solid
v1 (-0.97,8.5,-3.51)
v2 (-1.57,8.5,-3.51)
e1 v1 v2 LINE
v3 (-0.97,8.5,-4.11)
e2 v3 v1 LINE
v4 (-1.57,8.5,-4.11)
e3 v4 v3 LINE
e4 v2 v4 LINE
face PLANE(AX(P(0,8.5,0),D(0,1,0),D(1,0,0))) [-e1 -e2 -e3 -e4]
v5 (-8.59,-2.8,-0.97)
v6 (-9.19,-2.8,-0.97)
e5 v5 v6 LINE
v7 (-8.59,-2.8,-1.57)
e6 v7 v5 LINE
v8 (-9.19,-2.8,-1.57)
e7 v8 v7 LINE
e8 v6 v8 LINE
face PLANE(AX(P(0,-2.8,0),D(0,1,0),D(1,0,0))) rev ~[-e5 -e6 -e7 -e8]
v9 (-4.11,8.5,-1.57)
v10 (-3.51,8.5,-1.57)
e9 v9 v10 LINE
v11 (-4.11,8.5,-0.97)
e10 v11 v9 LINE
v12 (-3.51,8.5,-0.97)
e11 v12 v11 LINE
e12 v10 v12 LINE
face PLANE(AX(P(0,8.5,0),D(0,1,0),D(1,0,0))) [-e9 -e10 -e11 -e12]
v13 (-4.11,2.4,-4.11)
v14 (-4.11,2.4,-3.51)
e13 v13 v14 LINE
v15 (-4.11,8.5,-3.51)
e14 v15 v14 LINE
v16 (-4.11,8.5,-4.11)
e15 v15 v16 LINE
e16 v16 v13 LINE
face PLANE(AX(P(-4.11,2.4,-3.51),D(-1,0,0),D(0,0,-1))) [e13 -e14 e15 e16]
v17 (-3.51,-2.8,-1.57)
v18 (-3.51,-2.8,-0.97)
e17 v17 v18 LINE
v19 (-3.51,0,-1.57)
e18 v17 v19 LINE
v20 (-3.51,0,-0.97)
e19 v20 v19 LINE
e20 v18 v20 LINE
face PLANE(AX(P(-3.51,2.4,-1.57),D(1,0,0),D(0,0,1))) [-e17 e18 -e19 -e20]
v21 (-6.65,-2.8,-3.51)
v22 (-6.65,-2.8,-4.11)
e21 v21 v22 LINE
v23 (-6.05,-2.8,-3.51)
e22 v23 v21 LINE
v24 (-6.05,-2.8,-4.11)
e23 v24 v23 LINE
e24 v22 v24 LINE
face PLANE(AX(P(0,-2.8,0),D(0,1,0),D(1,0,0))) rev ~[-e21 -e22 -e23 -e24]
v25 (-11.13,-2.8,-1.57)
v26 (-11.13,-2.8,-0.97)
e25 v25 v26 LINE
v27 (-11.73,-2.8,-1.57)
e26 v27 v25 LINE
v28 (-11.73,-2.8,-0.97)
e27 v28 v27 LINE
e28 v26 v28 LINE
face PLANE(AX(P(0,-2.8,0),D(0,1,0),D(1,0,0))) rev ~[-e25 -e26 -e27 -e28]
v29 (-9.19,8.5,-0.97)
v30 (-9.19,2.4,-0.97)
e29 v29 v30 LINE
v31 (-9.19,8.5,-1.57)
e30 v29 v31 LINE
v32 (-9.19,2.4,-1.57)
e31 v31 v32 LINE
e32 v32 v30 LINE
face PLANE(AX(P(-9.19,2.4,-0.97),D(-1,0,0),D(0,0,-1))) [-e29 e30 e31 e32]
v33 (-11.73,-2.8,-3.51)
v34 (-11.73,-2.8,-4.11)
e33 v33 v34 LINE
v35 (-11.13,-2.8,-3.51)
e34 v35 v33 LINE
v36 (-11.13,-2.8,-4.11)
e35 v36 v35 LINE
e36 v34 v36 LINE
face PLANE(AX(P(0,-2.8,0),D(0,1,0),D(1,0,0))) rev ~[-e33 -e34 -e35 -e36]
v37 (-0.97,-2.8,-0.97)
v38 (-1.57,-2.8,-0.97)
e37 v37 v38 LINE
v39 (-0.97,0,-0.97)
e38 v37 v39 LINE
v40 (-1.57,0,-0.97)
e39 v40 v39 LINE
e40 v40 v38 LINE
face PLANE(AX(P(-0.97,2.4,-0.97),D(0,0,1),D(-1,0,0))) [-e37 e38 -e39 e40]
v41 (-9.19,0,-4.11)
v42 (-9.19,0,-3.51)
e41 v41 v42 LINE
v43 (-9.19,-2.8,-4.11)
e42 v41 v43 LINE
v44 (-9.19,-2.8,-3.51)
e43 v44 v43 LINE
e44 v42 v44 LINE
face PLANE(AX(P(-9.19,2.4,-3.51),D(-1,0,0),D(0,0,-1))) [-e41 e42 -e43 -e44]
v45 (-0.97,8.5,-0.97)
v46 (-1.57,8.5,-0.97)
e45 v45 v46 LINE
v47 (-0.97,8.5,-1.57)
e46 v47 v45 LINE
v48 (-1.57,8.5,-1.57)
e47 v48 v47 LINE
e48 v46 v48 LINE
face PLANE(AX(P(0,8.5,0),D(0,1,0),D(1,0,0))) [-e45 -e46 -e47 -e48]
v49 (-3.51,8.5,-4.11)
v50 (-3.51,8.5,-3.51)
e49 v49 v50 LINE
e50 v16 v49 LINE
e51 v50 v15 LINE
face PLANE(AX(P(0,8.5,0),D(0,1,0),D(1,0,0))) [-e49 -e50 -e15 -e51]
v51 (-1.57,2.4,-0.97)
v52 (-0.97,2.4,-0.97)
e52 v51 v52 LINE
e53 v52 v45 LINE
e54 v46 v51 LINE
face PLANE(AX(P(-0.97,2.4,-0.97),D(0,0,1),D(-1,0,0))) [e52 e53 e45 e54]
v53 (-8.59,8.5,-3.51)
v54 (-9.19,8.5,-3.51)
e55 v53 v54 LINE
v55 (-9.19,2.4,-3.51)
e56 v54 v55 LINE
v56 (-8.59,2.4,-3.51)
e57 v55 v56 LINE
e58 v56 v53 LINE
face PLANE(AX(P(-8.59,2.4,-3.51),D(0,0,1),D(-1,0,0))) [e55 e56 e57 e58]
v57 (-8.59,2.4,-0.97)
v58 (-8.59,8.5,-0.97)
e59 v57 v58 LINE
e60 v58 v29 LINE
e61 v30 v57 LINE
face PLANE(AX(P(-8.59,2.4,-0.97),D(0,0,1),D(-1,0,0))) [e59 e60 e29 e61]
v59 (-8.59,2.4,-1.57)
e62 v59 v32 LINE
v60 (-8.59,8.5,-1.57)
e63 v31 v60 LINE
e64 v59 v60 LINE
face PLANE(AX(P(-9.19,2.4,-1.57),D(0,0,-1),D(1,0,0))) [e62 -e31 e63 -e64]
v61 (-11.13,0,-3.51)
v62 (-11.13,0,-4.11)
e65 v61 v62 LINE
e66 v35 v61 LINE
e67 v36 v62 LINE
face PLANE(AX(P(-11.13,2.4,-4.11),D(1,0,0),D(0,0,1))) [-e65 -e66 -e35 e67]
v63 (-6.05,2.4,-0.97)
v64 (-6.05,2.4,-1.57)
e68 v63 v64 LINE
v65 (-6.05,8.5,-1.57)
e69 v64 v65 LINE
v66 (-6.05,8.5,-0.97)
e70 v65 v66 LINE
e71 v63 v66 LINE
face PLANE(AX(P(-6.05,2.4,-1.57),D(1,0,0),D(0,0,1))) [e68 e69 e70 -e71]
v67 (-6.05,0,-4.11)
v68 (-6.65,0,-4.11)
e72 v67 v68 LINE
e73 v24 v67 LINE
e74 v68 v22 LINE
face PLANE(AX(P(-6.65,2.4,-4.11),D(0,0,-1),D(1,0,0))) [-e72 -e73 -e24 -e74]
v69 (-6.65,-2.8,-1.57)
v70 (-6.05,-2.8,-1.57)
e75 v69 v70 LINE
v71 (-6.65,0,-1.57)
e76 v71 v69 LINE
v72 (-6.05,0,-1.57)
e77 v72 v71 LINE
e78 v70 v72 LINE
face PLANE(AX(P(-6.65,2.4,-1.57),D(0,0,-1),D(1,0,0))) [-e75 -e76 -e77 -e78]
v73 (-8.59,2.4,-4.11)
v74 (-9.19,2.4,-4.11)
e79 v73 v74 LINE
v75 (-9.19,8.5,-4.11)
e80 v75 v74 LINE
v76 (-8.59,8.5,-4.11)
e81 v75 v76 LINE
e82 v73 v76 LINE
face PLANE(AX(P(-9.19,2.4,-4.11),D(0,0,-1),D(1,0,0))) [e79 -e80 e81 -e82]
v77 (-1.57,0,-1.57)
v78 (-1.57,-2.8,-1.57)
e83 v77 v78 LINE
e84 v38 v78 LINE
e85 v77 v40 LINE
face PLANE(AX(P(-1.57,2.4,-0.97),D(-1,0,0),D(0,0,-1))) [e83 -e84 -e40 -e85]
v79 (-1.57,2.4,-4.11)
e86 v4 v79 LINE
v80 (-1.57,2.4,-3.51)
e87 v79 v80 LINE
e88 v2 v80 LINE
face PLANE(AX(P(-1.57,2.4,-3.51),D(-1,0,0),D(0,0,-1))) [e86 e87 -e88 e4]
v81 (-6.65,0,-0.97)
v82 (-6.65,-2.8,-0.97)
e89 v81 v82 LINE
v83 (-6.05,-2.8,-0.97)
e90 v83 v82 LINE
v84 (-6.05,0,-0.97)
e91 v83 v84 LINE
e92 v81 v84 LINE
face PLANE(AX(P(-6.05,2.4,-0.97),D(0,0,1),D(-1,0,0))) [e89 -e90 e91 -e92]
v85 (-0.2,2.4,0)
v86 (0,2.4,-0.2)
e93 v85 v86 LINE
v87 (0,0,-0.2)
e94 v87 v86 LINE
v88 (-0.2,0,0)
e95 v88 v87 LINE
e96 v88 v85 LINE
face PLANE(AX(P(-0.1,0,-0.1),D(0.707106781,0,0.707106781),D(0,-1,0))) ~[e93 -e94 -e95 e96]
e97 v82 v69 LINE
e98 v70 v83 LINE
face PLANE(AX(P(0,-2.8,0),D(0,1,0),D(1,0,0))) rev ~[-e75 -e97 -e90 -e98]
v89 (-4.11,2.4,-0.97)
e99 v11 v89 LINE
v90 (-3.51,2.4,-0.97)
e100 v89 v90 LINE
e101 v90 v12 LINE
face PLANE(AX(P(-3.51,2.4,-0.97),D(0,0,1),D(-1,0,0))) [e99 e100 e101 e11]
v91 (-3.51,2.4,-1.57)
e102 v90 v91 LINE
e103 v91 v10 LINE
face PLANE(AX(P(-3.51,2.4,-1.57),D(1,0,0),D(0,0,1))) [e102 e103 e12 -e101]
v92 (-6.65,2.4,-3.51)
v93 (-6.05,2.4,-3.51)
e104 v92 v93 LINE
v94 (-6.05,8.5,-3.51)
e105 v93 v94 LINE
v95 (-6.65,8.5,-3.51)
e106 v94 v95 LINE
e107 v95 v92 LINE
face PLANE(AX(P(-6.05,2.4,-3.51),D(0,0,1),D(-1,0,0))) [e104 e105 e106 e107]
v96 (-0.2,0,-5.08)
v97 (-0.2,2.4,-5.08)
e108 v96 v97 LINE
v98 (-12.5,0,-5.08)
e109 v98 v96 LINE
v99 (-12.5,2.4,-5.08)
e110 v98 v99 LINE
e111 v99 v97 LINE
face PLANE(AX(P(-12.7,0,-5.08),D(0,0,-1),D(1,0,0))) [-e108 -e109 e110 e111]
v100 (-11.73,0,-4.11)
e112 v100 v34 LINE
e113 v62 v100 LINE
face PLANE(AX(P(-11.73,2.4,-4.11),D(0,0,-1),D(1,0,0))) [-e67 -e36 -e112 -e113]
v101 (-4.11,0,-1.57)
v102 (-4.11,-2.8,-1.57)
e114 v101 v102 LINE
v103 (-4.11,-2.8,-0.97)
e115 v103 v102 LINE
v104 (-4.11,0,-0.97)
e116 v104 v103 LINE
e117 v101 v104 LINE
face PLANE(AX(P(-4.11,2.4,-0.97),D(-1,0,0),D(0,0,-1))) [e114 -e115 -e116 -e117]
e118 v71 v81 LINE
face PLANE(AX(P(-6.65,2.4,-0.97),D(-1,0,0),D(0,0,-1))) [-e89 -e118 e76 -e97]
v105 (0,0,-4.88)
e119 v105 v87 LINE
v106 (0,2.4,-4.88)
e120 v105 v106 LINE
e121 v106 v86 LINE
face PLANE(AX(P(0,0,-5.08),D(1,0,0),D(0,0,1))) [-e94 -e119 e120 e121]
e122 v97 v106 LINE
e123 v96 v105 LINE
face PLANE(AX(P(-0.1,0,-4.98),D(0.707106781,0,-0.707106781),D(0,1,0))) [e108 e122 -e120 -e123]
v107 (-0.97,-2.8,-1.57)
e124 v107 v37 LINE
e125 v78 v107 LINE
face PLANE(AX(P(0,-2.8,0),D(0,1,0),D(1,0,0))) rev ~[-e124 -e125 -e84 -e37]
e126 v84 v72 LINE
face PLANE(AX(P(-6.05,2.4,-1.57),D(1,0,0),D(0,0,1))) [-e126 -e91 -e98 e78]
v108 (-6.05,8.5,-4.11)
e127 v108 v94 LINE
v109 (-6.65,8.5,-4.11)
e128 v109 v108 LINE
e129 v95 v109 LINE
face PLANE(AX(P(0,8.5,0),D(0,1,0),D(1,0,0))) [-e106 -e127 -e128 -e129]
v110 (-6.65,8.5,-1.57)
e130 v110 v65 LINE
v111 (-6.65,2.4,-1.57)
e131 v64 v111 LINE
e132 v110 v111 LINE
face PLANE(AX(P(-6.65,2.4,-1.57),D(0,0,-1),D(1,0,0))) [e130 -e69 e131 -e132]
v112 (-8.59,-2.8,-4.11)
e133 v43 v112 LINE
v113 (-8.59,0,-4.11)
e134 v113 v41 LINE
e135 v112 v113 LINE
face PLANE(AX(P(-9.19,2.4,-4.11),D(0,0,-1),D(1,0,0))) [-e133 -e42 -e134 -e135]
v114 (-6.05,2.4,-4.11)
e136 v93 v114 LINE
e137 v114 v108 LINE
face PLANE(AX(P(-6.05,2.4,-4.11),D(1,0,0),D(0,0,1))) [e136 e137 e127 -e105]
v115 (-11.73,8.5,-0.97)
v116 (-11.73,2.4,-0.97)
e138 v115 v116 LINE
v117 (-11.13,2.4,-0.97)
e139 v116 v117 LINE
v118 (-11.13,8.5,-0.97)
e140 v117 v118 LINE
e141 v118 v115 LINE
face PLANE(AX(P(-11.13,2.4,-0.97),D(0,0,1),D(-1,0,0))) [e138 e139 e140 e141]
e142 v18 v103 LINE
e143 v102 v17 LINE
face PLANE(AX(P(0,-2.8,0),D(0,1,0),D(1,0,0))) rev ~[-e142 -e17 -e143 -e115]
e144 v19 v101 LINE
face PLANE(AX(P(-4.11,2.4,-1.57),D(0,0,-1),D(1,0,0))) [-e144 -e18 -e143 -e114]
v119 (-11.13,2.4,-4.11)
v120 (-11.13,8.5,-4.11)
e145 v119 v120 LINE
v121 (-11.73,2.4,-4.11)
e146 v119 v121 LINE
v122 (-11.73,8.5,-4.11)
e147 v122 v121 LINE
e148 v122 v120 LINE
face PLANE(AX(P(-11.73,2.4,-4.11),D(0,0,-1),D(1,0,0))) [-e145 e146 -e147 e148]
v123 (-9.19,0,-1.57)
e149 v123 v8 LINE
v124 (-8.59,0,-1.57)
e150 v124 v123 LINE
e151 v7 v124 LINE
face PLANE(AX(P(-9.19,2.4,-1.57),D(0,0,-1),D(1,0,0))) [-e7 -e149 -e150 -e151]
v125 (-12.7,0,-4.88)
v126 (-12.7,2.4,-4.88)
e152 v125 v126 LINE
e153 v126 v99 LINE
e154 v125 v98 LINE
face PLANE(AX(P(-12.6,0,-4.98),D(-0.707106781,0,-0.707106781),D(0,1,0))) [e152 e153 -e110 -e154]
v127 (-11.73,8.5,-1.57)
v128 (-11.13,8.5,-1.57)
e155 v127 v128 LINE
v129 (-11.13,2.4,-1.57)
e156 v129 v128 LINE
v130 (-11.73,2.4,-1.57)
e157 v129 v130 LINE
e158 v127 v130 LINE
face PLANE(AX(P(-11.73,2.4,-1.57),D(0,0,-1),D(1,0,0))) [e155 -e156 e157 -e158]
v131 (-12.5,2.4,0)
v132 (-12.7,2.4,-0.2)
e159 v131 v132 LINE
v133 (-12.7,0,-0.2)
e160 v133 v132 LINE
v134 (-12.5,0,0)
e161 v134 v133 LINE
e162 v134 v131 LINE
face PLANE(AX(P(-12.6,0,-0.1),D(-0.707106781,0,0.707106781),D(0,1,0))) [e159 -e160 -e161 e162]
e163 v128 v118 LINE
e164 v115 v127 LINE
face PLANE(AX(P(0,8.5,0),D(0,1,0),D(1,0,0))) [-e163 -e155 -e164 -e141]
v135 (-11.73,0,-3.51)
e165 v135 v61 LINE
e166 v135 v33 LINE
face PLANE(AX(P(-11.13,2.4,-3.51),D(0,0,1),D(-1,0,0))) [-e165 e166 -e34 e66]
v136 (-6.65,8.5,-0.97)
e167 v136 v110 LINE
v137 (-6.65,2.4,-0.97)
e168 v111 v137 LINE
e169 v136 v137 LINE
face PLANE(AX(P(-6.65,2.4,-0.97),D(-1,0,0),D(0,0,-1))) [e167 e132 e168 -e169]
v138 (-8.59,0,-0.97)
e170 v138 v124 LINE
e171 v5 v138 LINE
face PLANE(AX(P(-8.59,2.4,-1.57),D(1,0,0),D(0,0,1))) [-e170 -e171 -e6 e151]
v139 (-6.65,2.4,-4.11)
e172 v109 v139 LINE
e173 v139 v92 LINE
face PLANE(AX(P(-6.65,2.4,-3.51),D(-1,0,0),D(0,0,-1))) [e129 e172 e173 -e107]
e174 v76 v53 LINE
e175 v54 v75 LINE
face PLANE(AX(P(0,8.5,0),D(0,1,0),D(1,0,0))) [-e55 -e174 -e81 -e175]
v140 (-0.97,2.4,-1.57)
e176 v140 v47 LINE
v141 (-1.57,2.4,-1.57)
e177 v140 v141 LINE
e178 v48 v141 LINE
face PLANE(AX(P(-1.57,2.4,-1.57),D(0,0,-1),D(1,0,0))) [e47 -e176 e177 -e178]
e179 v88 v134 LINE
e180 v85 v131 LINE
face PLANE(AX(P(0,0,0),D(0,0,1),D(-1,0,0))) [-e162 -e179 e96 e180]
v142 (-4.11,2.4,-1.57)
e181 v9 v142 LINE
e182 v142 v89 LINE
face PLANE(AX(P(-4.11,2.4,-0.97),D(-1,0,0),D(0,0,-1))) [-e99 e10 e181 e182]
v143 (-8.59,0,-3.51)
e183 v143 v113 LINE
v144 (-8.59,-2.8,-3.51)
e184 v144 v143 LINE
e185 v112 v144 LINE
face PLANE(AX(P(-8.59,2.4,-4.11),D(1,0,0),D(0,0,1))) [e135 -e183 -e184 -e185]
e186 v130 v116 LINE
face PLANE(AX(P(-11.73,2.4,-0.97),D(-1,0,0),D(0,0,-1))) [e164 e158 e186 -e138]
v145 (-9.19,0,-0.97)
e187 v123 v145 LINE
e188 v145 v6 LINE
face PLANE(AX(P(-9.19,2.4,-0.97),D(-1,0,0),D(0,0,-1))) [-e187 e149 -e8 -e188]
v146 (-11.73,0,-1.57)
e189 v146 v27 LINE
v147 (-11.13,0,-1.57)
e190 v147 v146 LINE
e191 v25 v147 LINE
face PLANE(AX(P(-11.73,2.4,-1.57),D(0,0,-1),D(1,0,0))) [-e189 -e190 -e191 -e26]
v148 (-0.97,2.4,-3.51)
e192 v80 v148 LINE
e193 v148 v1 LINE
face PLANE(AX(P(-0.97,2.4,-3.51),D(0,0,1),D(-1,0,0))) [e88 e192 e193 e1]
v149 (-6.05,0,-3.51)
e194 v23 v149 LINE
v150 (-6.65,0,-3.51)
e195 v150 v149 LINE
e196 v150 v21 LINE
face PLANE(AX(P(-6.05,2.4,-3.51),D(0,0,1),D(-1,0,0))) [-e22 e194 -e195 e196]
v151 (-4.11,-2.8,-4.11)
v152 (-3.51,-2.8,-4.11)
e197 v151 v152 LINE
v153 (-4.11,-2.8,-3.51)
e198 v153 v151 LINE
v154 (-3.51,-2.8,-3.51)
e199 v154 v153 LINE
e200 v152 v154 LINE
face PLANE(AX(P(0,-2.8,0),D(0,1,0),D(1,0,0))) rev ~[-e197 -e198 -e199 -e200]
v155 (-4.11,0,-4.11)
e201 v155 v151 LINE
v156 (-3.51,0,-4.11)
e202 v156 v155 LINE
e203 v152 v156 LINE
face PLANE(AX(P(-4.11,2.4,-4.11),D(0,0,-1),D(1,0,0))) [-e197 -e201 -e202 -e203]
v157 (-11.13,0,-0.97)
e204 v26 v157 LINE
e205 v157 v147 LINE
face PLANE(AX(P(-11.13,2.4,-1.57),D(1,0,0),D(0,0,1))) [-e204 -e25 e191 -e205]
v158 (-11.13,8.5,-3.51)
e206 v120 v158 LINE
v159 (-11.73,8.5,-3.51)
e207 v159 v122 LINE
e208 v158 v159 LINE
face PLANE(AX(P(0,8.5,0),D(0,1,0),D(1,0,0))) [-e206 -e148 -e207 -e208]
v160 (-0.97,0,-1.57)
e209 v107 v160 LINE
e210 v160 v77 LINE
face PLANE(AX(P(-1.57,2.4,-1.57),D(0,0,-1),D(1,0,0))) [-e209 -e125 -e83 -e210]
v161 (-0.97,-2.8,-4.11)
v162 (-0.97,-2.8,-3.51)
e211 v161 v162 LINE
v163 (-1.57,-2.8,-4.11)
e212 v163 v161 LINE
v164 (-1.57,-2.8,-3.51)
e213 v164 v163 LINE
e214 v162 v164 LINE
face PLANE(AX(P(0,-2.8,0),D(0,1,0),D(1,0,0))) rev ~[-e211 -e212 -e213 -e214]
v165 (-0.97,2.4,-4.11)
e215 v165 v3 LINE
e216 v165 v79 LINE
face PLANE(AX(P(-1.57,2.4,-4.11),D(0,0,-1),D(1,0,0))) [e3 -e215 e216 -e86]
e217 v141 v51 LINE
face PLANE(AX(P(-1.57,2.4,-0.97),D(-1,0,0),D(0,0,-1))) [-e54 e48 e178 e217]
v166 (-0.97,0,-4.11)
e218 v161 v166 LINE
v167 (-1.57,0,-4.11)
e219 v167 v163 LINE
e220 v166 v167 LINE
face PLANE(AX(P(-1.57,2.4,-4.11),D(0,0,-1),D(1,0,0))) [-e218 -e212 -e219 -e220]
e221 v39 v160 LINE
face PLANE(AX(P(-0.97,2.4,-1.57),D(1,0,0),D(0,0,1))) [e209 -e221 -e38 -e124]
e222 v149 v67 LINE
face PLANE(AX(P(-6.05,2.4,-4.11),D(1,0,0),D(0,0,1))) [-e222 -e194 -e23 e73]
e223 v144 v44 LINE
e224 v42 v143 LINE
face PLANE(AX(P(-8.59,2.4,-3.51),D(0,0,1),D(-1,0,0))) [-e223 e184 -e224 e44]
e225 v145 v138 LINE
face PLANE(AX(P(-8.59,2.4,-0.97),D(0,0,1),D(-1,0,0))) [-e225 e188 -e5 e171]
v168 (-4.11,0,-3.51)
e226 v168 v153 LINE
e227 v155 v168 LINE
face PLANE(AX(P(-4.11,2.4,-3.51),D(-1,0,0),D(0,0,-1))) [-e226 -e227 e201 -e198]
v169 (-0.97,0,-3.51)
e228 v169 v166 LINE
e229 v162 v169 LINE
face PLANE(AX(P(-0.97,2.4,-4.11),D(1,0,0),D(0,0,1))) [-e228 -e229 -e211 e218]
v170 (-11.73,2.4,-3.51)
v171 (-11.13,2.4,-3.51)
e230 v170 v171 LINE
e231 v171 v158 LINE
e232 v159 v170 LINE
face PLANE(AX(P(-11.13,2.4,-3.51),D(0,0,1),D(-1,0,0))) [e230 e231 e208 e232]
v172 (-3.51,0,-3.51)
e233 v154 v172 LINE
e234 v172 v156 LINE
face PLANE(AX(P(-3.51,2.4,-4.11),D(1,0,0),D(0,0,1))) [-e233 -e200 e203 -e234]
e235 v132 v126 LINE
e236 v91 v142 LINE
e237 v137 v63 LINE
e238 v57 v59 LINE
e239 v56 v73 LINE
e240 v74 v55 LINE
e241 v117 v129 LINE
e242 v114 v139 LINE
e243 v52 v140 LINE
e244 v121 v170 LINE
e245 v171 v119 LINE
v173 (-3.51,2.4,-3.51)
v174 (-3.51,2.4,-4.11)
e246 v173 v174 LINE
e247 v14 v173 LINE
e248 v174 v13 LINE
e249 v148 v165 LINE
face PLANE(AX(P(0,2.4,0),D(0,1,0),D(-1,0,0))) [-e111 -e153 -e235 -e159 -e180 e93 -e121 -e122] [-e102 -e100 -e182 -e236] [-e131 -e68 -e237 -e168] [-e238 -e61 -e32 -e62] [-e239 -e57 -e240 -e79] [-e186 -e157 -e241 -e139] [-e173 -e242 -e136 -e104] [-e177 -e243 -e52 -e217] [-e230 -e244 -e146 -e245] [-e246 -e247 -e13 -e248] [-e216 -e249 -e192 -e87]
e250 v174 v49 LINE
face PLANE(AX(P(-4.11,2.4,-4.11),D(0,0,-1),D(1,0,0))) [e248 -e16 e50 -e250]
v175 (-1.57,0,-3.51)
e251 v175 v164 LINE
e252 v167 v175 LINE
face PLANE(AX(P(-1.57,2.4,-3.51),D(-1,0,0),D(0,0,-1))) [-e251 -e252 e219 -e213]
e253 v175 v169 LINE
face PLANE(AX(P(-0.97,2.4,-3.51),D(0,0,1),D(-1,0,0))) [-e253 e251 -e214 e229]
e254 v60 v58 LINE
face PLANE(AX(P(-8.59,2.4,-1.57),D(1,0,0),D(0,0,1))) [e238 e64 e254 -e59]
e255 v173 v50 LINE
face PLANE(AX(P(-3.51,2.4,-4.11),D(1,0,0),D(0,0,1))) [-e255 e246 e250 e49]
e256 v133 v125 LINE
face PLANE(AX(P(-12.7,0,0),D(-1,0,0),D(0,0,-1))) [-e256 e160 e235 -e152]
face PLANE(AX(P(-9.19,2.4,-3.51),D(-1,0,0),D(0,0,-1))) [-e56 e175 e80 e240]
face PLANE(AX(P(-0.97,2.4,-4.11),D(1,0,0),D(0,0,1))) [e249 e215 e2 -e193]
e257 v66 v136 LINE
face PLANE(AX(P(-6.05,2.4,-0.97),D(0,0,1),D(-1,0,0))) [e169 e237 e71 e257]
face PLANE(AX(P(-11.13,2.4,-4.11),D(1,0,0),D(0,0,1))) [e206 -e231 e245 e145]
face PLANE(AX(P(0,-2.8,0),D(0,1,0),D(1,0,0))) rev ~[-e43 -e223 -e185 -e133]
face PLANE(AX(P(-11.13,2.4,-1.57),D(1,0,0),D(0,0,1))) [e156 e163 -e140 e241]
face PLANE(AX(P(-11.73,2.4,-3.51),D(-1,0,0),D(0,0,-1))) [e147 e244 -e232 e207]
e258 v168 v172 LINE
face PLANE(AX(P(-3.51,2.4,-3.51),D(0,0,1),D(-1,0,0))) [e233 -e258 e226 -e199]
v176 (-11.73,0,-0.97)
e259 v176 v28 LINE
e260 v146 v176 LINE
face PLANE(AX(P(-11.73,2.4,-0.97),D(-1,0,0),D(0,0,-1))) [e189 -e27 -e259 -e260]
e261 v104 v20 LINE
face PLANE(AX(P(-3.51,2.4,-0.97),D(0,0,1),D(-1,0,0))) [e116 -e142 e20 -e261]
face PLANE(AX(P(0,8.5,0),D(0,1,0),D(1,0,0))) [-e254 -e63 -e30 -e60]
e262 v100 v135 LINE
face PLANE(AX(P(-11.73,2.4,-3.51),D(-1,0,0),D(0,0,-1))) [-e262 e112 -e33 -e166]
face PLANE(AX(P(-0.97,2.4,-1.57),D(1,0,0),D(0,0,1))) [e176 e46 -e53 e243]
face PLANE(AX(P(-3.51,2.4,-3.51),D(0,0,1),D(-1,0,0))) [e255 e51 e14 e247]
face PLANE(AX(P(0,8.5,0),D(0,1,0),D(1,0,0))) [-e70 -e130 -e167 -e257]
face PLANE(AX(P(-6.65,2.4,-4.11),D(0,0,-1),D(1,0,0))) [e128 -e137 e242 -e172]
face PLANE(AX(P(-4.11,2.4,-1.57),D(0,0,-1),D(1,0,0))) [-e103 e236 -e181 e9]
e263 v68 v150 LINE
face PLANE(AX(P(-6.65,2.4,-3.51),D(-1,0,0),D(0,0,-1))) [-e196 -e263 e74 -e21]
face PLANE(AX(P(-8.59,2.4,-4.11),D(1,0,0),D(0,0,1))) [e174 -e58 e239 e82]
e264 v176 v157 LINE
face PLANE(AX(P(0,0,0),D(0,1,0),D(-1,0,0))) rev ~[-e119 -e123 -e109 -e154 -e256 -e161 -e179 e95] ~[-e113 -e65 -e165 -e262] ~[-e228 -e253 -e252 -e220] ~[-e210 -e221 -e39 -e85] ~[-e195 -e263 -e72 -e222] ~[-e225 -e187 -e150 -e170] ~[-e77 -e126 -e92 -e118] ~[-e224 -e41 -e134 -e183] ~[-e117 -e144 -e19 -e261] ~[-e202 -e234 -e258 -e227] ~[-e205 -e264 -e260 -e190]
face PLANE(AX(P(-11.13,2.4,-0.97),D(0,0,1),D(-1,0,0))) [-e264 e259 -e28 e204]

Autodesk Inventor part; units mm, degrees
ref_plane "YZ Plane" through (0, 0, 0) normal (1, 0, 0) x (0, 1, 0)
ref_plane "XZ Plane" through (0, 0, 0) normal (0, 1, 0) x (-1, 0, 0)
ref_plane "XY Plane" through (0, 0, 0) normal (0, 0, 1) x (1, 0, 0)
sketch "Sketch1" plane through (0, 0, 0) normal (0, 1, 0) x (-1, 0, 0)
  line L0 (0, 0) -> (12.7, 0)
  line L1 (12.7, 0) -> (12.7, -5.08)
  line L2 (12.7, -5.08) -> (0, -5.08)
  line L3 (0, -5.08) -> (0, 0)
  dimension "d0" = 12.7
  dimension "d1" = 5.08
extrude "Extrusion1" add sketch "Sketch1" along normal blind 2.4
chamfer "Chamfer1" distance 0.2 angle 45 4 edges at (-12.7, 1.2, -5.08) (-12.7, 1.2, 0) (0, 1.2, 0) (0, 1.2, -5.08)
sketch "Sketch2" plane through (0, 2.4, 0) normal (0, 1, 0) x (1, 0, 0)
  line L0 (-11.13, 0.97) -> (-11.73, 0.97)
  line L1 (-11.73, 0.97) -> (-11.73, 1.57)
  line L2 (-11.73, 1.57) -> (-11.13, 1.57)
  line L3 (-11.13, 1.57) -> (-11.13, 0.97)
  line L4 (-11.13, 0.97) -> (-11.73, 1.57) construction
  line L5 (-11.73, 0.97) -> (-11.13, 1.57) construction
  line L6 (-11.13, 3.51) -> (-11.73, 3.51)
  line L7 (-11.73, 3.51) -> (-11.73, 4.11)
  line L8 (-11.73, 4.11) -> (-11.13, 4.11)
  line L9 (-11.13, 4.11) -> (-11.13, 3.51)
  line L10 (-11.13, 3.51) -> (-11.73, 4.11) construction
  line L11 (-11.73, 3.51) -> (-11.13, 4.11) construction
  line L12 (-8.59, 0.97) -> (-9.19, 0.97)
  line L13 (-9.19, 0.97) -> (-9.19, 1.57)
  line L14 (-9.19, 1.57) -> (-8.59, 1.57)
  line L15 (-8.59, 1.57) -> (-8.59, 0.97)
  line L16 (-8.59, 0.97) -> (-9.19, 1.57) construction
  line L17 (-9.19, 0.97) -> (-8.59, 1.57) construction
  line L18 (-8.59, 3.51) -> (-9.19, 3.51)
  line L19 (-9.19, 3.51) -> (-9.19, 4.11)
  line L20 (-9.19, 4.11) -> (-8.59, 4.11)
  line L21 (-8.59, 4.11) -> (-8.59, 3.51)
  line L22 (-8.59, 3.51) -> (-9.19, 4.11) construction
  line L23 (-9.19, 3.51) -> (-8.59, 4.11) construction
  line L24 (-6.05, 0.97) -> (-6.65, 0.97)
  line L25 (-6.65, 0.97) -> (-6.65, 1.57)
  line L26 (-6.65, 1.57) -> (-6.05, 1.57)
  line L27 (-6.05, 1.57) -> (-6.05, 0.97)
  line L28 (-6.05, 0.97) -> (-6.65, 1.57) construction
  line L29 (-6.65, 0.97) -> (-6.05, 1.57) construction
  line L30 (-6.05, 3.51) -> (-6.65, 3.51)
  line L31 (-6.65, 3.51) -> (-6.65, 4.11)
  line L32 (-6.65, 4.11) -> (-6.05, 4.11)
  line L33 (-6.05, 4.11) -> (-6.05, 3.51)
  line L34 (-6.05, 3.51) -> (-6.65, 4.11) construction
  line L35 (-6.65, 3.51) -> (-6.05, 4.11) construction
  line L36 (-3.51, 0.97) -> (-4.11, 0.97)
  line L37 (-4.11, 0.97) -> (-4.11, 1.57)
  line L38 (-4.11, 1.57) -> (-3.51, 1.57)
  line L39 (-3.51, 1.57) -> (-3.51, 0.97)
  line L40 (-3.51, 0.97) -> (-4.11, 1.57) construction
  line L41 (-4.11, 0.97) -> (-3.51, 1.57) construction
  line L42 (-3.51, 3.51) -> (-4.11, 3.51)
  line L43 (-4.11, 3.51) -> (-4.11, 4.11)
  line L44 (-4.11, 4.11) -> (-3.51, 4.11)
  line L45 (-3.51, 4.11) -> (-3.51, 3.51)
  line L46 (-3.51, 3.51) -> (-4.11, 4.11) construction
  line L47 (-4.11, 3.51) -> (-3.51, 4.11) construction
  line L48 (-0.97, 0.97) -> (-1.57, 0.97)
  line L49 (-1.57, 0.97) -> (-1.57, 1.57)
  line L50 (-1.57, 1.57) -> (-0.97, 1.57)
  line L51 (-0.97, 1.57) -> (-0.97, 0.97)
  line L52 (-0.97, 0.97) -> (-1.57, 1.57) construction
  line L53 (-1.57, 0.97) -> (-0.97, 1.57) construction
  line L54 (-0.97, 3.51) -> (-1.57, 3.51)
  line L55 (-1.57, 3.51) -> (-1.57, 4.11)
  line L56 (-1.57, 4.11) -> (-0.97, 4.11)
  line L57 (-0.97, 4.11) -> (-0.97, 3.51)
  line L58 (-0.97, 3.51) -> (-1.57, 4.11) construction
  line L59 (-1.57, 3.51) -> (-0.97, 4.11) construction
  line L60 (-12.7, 4.88) -> (-12.7, 0.2) projected
  line L61 (-12.5, 0) -> (-0.2, 0) projected
  point P0 (0, 0)
  point P1 (-11.43, 1.27)
  point P2 (-11.43, 3.81)
  point P3 (-8.89, 1.27)
  point P4 (-8.89, 3.81)
  point P5 (-6.35, 1.27)
  point P6 (-6.35, 3.81)
  point P7 (-3.81, 1.27)
  point P8 (-3.81, 3.81)
  point P9 (-1.27, 1.27)
  point P10 (-1.27, 3.81)
  dimension "d7" = 0.6
  dimension "d8" = 0.6
  dimension "d11" = 2.54
  dimension "d14" = 2.54
  dimension "d17" = 1.27
  dimension "d18" = 1.27
extrude "Extrusion2" add sketch "Sketch2" along normal blind 6.1 and the other way blind 5.2
properties part number "2x5_P2.54mm_male_header"
